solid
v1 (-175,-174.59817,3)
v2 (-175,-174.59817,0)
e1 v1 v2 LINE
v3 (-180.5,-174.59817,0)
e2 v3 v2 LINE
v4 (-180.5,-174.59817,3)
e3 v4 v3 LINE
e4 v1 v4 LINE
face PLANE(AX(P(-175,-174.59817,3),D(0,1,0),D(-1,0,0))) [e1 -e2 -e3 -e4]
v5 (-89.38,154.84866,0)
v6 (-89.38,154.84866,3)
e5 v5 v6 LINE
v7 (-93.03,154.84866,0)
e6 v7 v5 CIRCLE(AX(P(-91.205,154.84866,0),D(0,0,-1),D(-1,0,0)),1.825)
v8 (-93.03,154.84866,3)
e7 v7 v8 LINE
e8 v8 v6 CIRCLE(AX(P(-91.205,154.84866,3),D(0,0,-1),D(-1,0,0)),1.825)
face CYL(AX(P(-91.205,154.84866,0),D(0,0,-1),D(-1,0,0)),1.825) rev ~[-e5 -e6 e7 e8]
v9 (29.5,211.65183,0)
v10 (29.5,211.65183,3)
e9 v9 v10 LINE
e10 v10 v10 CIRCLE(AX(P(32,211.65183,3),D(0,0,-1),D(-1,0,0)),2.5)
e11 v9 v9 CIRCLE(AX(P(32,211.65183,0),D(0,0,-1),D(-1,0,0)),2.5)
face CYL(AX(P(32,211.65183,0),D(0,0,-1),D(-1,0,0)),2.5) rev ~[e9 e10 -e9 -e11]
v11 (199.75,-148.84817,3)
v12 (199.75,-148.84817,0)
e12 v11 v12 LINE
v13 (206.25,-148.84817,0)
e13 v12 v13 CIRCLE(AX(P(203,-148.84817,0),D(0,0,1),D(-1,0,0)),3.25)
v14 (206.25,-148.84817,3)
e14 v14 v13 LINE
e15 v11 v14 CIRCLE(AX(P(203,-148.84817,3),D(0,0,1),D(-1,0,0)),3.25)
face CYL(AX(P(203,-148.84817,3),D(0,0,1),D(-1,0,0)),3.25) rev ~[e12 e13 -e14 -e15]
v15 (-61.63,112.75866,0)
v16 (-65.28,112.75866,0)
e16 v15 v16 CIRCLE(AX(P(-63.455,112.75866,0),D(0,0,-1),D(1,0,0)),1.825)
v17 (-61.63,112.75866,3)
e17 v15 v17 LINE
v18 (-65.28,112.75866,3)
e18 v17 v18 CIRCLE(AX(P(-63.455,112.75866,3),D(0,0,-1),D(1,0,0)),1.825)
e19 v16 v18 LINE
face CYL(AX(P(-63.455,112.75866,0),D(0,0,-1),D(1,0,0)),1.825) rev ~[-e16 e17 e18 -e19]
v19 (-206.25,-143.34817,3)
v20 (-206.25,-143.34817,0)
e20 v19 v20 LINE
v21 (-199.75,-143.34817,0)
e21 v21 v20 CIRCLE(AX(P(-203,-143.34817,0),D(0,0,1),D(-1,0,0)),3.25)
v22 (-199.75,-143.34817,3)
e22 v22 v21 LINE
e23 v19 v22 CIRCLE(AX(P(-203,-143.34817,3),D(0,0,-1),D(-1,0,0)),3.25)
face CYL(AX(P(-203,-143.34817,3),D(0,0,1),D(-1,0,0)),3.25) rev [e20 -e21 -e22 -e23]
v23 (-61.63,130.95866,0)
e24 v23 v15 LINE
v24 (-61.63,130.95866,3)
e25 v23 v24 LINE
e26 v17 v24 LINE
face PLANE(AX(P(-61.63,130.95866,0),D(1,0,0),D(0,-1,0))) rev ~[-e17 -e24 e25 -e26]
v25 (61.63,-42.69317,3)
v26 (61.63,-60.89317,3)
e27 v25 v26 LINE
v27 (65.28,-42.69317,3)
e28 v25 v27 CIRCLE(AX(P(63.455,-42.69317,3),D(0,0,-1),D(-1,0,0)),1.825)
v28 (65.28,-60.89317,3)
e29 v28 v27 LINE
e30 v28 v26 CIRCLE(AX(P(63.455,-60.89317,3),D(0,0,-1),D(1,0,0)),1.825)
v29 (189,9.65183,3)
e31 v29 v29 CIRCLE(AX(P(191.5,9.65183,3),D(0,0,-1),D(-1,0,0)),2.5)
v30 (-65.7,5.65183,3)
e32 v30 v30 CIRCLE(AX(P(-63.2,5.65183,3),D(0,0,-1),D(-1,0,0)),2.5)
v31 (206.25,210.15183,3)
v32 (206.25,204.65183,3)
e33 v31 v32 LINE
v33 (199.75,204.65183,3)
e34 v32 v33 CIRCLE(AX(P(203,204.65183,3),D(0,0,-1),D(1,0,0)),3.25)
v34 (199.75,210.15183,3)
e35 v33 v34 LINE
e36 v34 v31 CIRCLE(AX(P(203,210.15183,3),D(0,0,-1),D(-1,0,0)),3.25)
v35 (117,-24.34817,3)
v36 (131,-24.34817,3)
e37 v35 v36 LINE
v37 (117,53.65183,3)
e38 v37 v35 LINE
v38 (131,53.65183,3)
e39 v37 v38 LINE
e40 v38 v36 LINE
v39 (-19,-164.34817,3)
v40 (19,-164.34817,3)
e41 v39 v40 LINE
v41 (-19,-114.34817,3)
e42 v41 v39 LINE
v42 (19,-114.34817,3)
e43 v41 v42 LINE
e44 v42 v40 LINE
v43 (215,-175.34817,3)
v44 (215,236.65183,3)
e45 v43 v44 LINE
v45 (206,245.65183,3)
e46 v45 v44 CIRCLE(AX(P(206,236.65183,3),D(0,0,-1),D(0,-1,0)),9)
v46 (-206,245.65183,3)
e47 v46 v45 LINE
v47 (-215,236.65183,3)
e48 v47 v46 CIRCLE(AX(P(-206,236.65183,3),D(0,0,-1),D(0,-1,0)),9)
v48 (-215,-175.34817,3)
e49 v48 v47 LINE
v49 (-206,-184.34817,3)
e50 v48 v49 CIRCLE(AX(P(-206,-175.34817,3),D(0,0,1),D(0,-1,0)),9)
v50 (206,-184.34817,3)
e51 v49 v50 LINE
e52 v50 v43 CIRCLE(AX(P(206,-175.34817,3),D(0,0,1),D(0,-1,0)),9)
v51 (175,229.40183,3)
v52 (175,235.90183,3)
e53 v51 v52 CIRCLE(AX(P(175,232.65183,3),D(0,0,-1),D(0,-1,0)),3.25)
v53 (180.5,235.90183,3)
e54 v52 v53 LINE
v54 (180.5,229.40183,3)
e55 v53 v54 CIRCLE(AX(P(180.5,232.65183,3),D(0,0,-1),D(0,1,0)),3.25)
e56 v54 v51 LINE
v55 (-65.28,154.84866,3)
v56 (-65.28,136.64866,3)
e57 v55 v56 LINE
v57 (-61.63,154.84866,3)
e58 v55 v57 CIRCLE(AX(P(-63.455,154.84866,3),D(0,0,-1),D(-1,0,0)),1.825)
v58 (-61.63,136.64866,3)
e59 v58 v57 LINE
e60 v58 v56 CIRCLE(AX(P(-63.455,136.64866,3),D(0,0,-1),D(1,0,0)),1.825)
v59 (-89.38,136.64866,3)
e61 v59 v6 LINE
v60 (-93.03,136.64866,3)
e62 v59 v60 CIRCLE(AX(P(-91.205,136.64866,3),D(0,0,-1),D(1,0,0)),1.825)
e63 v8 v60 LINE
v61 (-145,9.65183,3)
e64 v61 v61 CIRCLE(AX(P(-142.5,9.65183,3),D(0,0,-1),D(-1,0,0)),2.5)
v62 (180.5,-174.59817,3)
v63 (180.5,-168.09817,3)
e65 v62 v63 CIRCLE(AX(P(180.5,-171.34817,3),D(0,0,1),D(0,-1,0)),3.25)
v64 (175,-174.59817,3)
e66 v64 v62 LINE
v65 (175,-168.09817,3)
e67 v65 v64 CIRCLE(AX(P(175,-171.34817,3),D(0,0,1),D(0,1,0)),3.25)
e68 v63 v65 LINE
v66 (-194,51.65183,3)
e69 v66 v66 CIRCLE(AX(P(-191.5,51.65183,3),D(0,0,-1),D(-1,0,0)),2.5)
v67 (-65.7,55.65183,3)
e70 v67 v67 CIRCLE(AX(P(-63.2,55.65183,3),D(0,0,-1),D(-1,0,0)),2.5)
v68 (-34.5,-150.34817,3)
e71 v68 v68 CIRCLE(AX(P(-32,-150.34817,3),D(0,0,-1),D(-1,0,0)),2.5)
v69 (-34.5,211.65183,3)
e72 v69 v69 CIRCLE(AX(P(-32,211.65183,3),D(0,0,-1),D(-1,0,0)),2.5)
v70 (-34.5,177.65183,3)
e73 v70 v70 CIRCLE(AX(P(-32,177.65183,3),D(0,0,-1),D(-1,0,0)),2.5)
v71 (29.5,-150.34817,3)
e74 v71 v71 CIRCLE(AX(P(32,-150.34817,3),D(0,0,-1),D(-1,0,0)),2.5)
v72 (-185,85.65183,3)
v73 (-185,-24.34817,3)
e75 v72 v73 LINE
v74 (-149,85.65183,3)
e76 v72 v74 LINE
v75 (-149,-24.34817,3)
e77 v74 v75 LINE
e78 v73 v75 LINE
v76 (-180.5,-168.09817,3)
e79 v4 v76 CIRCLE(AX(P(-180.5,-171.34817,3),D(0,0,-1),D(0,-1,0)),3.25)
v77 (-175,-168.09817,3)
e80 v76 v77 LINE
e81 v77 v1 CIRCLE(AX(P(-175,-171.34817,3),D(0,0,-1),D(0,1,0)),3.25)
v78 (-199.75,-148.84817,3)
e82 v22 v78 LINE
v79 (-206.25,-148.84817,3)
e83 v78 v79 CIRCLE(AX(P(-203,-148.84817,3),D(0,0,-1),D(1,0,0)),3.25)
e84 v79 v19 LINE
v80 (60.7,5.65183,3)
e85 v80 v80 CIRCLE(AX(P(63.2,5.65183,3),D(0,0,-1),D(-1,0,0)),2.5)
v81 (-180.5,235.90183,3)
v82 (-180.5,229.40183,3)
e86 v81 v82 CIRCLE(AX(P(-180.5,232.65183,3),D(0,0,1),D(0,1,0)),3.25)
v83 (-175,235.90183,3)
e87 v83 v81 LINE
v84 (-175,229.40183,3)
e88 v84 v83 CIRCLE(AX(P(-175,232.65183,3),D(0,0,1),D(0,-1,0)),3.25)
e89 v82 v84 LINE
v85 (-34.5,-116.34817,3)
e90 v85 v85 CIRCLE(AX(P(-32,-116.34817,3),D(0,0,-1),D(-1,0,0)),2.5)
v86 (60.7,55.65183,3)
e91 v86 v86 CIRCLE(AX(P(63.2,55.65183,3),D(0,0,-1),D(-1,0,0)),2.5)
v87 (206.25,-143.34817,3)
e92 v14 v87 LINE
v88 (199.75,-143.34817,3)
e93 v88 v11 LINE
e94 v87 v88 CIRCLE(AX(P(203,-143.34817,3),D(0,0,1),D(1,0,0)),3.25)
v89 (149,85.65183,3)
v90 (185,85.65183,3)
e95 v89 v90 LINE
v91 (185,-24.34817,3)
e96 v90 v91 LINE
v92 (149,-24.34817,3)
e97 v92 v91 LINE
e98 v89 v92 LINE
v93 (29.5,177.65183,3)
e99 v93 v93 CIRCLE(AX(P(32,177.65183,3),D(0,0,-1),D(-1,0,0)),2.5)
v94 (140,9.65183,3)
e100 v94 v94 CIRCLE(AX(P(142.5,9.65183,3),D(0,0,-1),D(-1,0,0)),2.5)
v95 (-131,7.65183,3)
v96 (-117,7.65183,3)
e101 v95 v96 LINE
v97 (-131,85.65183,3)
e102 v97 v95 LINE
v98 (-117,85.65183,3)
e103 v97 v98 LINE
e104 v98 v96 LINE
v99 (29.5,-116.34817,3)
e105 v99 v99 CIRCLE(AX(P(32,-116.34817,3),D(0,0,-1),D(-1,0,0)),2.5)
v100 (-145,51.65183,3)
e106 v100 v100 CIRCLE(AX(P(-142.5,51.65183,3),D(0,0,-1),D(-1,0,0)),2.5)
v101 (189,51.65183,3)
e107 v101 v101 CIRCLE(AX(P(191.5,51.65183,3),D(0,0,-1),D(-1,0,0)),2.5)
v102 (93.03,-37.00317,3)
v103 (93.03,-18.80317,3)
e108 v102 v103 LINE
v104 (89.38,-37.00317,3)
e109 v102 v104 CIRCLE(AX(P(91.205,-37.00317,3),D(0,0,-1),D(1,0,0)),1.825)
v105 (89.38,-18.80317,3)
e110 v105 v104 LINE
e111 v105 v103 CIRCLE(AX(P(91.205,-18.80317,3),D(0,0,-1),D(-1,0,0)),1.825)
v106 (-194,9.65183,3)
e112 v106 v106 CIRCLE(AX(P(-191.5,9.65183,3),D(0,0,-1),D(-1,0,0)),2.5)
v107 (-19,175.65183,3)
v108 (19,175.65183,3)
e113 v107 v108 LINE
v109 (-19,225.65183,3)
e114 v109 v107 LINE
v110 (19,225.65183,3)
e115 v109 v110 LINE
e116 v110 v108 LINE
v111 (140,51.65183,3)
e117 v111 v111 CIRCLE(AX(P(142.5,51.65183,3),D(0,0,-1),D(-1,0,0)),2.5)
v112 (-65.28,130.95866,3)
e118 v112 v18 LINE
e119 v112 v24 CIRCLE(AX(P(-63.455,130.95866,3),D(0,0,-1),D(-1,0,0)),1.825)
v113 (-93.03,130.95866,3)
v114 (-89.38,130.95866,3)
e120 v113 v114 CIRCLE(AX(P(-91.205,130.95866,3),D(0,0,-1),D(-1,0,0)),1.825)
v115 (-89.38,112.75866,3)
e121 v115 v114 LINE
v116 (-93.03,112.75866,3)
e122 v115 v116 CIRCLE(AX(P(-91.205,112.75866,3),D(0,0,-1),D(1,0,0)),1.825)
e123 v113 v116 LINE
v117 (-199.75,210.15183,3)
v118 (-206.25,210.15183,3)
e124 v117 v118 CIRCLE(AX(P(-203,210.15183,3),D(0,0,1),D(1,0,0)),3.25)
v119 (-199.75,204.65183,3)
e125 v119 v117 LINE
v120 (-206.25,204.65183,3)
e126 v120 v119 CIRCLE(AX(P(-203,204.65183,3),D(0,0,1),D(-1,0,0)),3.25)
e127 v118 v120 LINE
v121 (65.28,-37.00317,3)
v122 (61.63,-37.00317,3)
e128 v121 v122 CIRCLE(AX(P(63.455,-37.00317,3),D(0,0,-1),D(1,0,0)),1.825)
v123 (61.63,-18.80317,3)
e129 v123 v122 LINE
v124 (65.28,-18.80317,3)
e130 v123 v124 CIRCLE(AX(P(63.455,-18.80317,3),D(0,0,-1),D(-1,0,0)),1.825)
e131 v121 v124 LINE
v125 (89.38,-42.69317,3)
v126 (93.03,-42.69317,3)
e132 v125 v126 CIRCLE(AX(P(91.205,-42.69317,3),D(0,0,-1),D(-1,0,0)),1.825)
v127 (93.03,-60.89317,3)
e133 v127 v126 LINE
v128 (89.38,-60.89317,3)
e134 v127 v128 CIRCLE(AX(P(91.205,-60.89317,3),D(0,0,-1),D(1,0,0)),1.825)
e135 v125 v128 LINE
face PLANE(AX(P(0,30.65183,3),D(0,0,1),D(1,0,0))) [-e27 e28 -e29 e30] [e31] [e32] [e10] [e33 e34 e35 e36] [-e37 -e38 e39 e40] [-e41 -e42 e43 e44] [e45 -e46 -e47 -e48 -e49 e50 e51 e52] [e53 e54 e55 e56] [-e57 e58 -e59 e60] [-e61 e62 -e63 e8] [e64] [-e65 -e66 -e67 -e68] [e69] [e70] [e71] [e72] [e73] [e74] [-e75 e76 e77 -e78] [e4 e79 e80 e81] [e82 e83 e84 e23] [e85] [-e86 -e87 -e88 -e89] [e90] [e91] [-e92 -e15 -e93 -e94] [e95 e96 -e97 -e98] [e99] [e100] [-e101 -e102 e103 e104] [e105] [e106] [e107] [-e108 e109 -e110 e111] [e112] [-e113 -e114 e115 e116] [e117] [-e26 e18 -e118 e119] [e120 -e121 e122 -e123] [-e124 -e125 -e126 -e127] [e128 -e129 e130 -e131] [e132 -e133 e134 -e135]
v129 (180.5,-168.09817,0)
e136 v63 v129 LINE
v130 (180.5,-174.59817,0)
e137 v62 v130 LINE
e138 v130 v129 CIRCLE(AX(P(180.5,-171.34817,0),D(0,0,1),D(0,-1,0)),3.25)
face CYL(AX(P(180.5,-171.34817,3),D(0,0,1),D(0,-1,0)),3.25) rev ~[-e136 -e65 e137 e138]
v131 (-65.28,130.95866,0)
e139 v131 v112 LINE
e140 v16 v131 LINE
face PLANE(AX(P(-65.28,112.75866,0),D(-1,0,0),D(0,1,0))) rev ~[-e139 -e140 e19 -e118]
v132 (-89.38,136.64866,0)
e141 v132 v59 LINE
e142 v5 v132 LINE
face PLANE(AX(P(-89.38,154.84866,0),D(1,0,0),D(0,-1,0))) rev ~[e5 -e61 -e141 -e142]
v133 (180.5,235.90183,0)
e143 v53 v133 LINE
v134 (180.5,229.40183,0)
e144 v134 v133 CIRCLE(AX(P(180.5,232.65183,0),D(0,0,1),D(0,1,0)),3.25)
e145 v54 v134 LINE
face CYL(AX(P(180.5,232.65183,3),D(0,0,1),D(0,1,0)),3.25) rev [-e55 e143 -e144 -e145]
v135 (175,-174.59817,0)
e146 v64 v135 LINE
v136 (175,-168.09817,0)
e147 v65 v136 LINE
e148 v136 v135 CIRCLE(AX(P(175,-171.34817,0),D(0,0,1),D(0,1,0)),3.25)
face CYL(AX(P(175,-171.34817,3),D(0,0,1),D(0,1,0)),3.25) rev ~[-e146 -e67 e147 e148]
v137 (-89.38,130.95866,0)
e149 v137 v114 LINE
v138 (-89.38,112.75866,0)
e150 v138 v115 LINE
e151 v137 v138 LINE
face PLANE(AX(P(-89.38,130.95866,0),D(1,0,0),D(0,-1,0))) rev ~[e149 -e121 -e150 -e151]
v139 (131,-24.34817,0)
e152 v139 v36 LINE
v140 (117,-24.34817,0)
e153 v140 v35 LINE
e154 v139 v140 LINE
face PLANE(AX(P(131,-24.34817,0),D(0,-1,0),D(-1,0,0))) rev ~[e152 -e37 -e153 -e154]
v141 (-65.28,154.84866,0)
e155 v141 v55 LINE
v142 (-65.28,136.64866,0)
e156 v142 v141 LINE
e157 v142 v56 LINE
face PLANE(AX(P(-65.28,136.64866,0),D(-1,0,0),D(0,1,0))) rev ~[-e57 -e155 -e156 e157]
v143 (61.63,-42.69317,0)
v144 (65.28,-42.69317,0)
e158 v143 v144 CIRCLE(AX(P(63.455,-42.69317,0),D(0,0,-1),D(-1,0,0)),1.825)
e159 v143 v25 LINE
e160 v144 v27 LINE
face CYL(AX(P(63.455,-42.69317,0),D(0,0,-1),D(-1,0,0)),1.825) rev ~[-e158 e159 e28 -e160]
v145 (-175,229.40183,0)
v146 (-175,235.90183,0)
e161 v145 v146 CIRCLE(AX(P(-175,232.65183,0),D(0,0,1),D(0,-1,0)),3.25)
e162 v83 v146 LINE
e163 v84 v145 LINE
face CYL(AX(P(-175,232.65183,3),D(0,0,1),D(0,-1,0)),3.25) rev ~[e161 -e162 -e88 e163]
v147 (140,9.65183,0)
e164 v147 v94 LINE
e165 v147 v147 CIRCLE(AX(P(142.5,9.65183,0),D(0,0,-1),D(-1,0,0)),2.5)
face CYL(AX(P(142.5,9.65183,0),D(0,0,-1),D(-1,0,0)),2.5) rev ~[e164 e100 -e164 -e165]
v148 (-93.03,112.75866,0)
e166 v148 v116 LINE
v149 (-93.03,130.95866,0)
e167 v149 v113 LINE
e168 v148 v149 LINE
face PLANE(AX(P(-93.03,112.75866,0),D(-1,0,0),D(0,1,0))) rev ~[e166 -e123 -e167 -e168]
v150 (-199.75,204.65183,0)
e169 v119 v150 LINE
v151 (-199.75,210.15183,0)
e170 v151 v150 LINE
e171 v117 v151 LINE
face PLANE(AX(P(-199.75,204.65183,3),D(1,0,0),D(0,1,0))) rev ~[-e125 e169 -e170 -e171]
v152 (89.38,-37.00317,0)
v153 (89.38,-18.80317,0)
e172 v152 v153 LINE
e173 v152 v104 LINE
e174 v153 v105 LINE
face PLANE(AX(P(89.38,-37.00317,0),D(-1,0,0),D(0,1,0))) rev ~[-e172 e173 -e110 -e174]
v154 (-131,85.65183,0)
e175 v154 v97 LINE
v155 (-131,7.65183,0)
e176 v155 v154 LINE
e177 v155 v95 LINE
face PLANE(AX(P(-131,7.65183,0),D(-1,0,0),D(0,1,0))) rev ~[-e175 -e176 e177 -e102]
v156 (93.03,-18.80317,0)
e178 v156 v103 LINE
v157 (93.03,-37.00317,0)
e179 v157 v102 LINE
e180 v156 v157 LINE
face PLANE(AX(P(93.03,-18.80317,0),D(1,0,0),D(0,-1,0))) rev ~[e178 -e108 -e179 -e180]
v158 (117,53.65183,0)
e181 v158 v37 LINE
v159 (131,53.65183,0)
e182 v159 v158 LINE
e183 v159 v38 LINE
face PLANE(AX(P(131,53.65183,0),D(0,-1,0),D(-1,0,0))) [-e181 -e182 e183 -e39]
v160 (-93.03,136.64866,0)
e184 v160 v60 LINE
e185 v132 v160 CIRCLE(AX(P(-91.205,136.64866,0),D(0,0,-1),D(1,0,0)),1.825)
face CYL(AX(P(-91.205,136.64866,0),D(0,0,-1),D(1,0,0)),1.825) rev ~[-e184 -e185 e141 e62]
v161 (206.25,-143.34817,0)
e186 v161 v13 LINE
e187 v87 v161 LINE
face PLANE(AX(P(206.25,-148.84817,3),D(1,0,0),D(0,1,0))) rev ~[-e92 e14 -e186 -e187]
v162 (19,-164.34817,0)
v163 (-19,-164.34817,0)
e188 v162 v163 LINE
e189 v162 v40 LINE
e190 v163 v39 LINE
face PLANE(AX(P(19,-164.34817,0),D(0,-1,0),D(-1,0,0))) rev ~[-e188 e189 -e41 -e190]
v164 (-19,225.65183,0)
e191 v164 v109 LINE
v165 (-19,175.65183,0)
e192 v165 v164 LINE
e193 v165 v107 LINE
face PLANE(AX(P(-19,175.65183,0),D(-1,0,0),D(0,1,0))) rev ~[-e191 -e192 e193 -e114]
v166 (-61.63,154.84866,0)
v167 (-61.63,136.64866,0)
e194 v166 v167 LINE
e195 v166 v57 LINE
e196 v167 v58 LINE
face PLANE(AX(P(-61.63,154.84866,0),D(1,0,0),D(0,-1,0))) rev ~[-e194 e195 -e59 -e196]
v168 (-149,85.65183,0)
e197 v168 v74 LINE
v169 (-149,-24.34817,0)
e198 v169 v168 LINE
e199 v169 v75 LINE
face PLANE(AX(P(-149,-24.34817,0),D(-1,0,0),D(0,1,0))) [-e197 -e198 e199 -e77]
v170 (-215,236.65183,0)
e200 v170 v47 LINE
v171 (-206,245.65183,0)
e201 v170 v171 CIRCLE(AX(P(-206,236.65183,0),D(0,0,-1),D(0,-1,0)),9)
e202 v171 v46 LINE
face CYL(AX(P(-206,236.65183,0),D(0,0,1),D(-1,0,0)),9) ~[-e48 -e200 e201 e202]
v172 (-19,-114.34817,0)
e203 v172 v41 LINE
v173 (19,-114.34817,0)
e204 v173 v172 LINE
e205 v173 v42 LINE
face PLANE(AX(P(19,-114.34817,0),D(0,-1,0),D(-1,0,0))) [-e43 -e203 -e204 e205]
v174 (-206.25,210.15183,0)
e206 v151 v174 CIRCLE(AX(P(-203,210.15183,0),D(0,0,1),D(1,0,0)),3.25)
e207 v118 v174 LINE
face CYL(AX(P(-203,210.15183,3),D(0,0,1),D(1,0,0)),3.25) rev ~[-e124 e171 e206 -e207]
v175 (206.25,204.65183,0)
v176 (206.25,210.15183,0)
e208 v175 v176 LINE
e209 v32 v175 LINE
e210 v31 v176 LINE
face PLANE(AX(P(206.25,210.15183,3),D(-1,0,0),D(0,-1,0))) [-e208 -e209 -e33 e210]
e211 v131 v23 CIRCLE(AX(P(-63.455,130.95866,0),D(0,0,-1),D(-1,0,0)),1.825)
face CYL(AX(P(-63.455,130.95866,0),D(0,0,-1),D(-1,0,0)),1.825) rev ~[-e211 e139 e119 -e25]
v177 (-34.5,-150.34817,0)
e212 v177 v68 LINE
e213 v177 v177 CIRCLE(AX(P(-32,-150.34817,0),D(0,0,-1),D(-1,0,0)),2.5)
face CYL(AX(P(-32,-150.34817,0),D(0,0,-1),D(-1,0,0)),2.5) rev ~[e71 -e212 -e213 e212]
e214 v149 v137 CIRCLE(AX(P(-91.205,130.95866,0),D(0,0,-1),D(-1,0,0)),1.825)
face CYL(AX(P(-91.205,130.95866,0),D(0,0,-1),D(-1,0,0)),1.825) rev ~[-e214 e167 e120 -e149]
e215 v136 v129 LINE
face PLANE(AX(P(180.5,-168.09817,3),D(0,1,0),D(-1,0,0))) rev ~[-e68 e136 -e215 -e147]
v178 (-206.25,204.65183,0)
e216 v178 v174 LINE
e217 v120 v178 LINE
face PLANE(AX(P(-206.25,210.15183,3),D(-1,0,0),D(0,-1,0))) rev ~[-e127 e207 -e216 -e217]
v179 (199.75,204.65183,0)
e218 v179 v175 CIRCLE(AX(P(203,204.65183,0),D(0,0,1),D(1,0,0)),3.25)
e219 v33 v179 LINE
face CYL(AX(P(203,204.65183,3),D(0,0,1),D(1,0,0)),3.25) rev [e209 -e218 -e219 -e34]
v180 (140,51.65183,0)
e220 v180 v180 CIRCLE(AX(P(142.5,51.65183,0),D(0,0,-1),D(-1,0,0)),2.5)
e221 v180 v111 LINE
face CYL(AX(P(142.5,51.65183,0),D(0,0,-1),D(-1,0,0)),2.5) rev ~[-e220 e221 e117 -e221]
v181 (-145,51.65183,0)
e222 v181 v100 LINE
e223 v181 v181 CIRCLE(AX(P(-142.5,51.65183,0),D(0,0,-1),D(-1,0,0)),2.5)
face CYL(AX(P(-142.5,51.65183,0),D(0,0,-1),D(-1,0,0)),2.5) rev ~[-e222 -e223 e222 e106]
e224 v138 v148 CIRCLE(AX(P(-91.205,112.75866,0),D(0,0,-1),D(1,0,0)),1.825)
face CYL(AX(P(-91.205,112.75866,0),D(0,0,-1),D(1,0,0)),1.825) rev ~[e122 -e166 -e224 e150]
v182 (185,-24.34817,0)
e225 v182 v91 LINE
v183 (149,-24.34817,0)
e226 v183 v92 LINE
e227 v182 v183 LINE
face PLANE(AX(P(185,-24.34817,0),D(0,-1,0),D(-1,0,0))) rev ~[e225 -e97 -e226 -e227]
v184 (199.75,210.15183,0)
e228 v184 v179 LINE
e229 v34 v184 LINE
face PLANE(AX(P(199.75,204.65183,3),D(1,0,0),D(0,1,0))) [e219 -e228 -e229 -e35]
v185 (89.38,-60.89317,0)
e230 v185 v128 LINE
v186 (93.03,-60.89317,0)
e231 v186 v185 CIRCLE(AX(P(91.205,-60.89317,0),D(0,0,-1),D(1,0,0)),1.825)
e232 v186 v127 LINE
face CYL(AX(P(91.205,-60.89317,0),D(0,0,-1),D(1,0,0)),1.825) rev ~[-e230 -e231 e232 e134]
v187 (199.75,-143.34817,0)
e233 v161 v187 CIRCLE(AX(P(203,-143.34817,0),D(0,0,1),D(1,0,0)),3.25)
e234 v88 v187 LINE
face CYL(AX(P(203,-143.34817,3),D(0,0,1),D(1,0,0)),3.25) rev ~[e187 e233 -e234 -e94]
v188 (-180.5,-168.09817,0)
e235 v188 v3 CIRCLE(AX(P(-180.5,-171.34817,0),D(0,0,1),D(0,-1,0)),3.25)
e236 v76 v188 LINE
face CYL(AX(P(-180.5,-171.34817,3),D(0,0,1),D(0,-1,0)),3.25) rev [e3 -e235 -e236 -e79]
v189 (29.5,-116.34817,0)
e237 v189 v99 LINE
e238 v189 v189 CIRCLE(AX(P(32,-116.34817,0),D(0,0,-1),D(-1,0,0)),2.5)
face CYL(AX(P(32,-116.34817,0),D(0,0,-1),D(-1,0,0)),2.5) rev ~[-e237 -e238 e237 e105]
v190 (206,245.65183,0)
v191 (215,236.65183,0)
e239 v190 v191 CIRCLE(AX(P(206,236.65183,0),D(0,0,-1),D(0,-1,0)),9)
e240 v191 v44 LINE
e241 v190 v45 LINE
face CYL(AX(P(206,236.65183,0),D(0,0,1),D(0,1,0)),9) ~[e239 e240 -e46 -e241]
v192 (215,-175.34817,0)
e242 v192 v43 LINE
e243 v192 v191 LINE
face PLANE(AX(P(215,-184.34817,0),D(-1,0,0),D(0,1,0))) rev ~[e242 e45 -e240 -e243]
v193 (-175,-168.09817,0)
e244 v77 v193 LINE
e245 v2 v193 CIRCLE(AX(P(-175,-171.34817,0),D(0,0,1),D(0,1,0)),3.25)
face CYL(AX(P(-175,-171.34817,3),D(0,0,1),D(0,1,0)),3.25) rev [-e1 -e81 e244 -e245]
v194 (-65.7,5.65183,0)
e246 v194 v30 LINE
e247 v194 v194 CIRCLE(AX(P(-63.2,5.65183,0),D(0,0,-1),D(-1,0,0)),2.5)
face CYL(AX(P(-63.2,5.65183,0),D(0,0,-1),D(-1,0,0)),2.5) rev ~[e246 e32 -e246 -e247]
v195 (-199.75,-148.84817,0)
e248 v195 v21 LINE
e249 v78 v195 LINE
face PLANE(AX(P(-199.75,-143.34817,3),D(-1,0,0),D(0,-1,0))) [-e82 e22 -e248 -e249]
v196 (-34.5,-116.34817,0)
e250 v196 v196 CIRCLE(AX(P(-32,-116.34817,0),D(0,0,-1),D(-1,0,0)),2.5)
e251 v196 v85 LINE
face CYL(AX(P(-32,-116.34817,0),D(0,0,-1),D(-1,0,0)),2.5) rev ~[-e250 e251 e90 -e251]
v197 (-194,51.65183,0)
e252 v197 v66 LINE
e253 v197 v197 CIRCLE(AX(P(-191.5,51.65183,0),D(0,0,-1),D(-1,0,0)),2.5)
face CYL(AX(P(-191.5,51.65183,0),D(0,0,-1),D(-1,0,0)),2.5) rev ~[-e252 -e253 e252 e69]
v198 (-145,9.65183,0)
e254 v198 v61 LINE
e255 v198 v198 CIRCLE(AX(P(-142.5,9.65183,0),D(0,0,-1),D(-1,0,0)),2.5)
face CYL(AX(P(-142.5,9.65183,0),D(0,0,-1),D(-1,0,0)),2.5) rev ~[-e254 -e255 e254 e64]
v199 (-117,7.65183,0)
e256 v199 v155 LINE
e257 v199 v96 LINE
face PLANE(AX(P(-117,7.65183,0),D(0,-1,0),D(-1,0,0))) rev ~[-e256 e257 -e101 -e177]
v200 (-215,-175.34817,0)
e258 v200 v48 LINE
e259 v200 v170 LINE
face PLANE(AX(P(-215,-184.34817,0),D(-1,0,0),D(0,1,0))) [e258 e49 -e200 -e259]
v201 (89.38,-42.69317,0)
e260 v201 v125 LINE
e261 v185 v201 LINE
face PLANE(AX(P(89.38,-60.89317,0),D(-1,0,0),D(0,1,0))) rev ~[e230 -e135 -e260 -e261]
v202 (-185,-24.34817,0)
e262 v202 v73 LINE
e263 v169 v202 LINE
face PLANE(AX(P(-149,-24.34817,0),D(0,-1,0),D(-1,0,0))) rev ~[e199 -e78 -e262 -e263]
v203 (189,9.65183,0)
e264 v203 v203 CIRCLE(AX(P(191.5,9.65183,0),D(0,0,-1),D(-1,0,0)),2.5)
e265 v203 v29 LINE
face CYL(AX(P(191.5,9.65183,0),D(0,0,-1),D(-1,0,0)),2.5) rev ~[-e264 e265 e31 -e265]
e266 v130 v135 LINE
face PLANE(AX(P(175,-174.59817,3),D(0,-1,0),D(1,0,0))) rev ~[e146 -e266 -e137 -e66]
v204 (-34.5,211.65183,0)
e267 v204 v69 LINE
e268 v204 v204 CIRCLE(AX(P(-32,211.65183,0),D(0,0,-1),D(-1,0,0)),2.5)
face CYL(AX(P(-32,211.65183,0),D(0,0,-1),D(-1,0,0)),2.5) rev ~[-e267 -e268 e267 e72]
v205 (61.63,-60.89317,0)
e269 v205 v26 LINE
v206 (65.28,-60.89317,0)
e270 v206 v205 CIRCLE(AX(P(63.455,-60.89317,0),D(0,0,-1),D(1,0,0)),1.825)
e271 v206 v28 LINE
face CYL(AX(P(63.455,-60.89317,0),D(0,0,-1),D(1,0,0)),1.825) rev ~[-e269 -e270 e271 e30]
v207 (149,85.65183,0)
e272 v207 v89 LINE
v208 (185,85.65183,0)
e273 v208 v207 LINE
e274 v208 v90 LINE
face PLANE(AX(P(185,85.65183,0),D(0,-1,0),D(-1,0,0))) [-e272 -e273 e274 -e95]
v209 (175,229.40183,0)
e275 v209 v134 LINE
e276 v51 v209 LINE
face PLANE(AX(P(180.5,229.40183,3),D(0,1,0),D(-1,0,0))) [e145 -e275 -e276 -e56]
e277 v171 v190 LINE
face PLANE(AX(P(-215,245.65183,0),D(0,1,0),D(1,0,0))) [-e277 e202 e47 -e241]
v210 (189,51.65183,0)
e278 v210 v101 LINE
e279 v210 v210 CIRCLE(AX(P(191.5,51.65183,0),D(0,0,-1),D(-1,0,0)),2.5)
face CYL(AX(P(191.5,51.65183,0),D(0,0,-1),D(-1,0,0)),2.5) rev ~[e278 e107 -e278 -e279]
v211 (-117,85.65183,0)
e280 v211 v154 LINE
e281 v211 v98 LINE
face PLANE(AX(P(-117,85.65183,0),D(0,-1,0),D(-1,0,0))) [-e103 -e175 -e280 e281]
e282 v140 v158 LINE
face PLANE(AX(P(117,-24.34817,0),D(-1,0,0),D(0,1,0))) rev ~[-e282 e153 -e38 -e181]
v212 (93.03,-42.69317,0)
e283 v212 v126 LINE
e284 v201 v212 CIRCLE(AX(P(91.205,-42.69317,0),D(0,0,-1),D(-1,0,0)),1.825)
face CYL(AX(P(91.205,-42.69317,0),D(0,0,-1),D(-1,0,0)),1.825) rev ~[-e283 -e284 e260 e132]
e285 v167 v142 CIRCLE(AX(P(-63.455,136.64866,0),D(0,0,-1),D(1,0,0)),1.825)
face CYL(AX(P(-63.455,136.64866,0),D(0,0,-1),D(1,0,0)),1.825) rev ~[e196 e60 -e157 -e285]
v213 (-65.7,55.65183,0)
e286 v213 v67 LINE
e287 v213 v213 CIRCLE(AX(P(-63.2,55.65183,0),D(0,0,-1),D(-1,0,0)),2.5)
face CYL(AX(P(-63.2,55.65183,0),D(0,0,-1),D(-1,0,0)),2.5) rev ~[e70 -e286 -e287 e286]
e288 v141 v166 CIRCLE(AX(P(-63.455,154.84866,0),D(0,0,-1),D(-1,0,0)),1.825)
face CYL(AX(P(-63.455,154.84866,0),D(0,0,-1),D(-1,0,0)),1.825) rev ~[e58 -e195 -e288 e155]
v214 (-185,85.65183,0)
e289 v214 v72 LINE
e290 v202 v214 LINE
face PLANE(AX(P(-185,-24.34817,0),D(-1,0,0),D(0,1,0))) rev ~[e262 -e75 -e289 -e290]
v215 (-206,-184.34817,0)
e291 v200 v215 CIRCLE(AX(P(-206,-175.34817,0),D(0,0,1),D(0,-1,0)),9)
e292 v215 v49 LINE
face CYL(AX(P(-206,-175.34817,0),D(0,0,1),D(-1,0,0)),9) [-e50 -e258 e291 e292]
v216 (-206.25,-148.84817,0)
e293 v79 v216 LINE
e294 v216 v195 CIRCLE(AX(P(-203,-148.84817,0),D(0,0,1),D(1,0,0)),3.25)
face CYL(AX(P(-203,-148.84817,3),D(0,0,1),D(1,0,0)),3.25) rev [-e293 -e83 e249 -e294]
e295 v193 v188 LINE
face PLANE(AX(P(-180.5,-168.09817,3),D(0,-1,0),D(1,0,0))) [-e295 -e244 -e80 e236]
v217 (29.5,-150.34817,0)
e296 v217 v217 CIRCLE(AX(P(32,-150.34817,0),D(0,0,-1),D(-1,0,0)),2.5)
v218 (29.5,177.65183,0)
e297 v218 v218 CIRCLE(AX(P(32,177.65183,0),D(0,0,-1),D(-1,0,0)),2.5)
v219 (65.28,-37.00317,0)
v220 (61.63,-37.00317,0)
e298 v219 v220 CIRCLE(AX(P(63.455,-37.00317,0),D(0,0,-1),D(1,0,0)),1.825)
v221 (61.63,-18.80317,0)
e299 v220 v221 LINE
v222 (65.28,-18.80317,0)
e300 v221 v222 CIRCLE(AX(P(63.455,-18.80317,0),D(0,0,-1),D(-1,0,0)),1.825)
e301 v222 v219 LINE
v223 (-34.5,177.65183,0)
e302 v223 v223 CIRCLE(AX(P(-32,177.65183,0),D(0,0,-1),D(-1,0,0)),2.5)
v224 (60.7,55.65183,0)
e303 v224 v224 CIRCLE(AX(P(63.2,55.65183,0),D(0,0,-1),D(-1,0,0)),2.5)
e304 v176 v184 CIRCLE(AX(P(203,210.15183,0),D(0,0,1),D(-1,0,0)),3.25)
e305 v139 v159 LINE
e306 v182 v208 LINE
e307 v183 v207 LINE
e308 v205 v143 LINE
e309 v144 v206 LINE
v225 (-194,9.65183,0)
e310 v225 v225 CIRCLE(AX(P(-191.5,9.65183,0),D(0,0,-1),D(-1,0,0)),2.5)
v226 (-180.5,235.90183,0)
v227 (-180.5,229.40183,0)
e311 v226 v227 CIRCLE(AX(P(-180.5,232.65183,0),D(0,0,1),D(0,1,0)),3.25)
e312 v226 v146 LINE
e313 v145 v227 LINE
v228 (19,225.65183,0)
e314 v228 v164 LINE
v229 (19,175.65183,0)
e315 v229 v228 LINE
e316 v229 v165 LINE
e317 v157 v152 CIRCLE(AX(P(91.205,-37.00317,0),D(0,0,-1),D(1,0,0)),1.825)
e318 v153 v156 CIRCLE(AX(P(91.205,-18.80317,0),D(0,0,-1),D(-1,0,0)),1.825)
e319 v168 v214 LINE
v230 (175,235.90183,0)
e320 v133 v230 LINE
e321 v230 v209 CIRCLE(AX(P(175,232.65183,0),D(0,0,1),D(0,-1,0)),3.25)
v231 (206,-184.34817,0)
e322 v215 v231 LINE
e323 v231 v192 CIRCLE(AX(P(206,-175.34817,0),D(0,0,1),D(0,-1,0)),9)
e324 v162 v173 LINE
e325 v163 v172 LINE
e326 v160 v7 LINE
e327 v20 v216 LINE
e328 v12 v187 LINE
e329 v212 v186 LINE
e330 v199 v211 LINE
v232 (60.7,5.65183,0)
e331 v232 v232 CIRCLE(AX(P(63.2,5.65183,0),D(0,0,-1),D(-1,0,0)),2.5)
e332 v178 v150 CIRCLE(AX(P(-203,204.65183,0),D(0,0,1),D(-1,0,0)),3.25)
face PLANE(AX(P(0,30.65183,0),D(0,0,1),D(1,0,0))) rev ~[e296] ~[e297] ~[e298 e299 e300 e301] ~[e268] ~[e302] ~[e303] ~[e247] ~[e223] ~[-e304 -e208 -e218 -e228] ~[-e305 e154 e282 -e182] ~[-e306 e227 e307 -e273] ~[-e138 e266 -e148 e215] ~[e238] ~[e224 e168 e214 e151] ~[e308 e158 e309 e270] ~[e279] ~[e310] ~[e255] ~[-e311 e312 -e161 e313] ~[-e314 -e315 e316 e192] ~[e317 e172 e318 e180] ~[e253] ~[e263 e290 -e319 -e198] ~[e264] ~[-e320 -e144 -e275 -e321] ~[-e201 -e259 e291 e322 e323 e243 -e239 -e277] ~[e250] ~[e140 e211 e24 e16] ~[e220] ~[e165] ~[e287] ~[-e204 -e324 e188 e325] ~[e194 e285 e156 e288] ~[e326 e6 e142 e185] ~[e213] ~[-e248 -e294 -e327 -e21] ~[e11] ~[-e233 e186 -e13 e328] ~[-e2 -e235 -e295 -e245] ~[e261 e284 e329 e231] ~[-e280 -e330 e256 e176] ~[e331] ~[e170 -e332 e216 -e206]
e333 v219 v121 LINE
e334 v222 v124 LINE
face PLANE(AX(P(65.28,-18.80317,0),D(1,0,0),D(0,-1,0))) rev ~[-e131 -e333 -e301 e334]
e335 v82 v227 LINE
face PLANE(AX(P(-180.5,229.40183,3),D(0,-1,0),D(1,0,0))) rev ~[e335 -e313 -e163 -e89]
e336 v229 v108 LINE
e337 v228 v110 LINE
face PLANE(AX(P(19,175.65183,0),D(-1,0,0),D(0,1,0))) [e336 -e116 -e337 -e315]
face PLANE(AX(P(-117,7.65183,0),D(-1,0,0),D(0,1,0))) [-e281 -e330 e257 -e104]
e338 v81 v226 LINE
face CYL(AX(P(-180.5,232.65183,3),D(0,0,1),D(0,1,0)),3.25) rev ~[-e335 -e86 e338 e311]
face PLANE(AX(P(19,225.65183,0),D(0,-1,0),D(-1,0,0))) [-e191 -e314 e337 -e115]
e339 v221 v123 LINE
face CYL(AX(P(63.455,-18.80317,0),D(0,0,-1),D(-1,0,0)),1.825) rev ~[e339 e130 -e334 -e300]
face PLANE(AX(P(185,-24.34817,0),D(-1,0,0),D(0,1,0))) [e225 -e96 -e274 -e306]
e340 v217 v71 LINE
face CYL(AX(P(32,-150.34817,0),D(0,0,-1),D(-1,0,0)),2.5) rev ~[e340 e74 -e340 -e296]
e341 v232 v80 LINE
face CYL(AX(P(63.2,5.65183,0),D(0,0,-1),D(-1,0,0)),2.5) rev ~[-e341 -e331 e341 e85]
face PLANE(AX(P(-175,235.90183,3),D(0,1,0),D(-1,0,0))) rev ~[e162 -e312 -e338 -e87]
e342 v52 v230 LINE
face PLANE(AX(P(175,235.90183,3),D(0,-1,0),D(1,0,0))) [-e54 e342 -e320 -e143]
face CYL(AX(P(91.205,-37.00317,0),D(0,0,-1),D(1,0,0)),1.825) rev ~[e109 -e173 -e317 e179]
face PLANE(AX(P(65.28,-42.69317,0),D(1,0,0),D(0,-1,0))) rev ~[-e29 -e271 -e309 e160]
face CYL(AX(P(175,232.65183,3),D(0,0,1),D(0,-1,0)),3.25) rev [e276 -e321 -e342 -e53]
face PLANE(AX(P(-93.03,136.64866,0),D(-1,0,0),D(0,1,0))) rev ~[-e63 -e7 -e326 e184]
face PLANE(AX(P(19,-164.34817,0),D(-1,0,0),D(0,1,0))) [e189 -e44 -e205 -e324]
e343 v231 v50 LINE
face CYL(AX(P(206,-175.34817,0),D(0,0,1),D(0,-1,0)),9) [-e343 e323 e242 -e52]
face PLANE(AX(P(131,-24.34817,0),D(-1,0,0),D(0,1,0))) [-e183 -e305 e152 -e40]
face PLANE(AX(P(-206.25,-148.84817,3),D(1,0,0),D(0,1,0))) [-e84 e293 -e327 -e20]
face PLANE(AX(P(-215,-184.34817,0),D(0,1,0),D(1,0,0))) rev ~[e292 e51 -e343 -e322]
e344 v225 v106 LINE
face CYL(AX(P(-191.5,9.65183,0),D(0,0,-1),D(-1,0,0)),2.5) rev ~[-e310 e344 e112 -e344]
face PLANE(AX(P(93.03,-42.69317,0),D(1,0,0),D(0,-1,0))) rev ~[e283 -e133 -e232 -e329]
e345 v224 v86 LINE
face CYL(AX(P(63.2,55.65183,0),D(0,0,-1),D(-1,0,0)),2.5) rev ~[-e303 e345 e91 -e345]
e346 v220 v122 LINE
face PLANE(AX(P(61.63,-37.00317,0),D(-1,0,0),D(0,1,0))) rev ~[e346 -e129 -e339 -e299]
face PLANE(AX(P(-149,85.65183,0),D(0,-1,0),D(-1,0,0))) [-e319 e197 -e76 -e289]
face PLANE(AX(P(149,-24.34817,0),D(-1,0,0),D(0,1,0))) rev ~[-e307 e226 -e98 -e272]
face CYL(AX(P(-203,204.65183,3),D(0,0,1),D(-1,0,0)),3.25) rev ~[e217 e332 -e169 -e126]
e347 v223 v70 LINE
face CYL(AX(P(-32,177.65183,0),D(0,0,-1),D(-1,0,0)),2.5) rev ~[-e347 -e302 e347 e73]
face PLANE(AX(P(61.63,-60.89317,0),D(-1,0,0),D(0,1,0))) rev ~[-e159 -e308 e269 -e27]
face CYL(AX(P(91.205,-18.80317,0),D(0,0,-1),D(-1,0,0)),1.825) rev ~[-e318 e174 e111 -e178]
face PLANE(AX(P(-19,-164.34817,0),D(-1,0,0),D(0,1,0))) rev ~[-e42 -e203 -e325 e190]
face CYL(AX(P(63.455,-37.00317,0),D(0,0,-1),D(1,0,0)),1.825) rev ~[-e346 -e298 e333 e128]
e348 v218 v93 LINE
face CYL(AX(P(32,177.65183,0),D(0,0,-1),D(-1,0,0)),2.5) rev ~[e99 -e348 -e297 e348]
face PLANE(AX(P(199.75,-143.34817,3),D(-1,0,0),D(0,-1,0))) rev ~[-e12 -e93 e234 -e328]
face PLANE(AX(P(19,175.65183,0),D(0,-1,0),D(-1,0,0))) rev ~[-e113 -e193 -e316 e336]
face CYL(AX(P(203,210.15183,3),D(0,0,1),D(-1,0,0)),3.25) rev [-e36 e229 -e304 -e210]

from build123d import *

# Parameters (mm, degrees)
SKETCH1_W           = 430
SKETCH1_H           = 430
BOSS_EXTRUDE1_DEPTH = 3
CUT_EXTRUDE5_REACH  = 5
SKETCH7_W           = 36
SKETCH7_H           = 110
CUT_EXTRUDE6_DEPTH  = 4
SKETCH9_W           = 38
SKETCH9_H           = 50
CUT_EXTRUDE7_DEPTH  = 4
SKETCH10_R          = 2.5
CUT_EXTRUDE8_DEPTH  = 4
SKETCH14_W          = 14
SKETCH14_H          = 78
CUT_EXTRUDE11_DEPTH = 4
CUT_EXTRUDE12_DEPTH = 4
FILLET1_R           = 9
SKETCH17_R          = 2.5
CUT_EXTRUDE13_DEPTH = 4
SKETCH18_R          = 2.5
CUT_EXTRUDE14_DEPTH = 4


with BuildPart() as part:
    # Sketch1 → Boss-Extrude1 (new body)
    with BuildSketch(Plane.XY):
        with Locations((0, 30.651830075)):
            Rectangle(SKETCH1_W, SKETCH1_H)
    extrude(amount=BOSS_EXTRUDE1_DEPTH)

    # Sketch6 → Cut-Extrude5 (cut, up to next)
    with BuildSketch(Plane.XY.offset(3), mode=Mode.PRIVATE) as cut_extrude5_sk1:
        with BuildLine():
            Line((-199.75, 204.651830161), (-199.75, 210.151830161))
            ThreePointArc((-199.75, 210.151830161), (-203, 213.401830161), (-206.25, 210.151830161))
            Line((-206.25, 210.151830161), (-206.25, 204.651830161))
            ThreePointArc((-206.25, 204.651830161), (-203, 201.401830161), (-199.75, 204.651830161))
        make_face()
    cut_extrude5_tool1 = extrude(cut_extrude5_sk1.sketch, amount=-CUT_EXTRUDE5_REACH, mode=Mode.PRIVATE) & part.part
    add(cut_extrude5_tool1.solids().sort_by_distance((-203, 207.40183, 3))[0], mode=Mode.SUBTRACT)
    # Sketch6 → Cut-Extrude5 (cut, up to next)
    with BuildSketch(Plane.XY.offset(3), mode=Mode.PRIVATE) as cut_extrude5_sk2:
        with BuildLine():
            Line((-180.5, 229.401830161), (-175, 229.401830161))
            ThreePointArc((-175, 229.401830161), (-171.75, 232.651830161), (-175, 235.901830161))
            Line((-175, 235.901830161), (-180.5, 235.901830161))
            ThreePointArc((-180.5, 235.901830161), (-183.75, 232.651830161), (-180.5, 229.401830161))
        make_face()
    cut_extrude5_tool2 = extrude(cut_extrude5_sk2.sketch, amount=-CUT_EXTRUDE5_REACH, mode=Mode.PRIVATE) & part.part
    add(cut_extrude5_tool2.solids().sort_by_distance((-177.75, 232.65183, 3))[0], mode=Mode.SUBTRACT)
    # Sketch6 → Cut-Extrude5 (cut, up to next)
    with BuildSketch(Plane.XY.offset(3), mode=Mode.PRIVATE) as cut_extrude5_sk3:
        with BuildLine():
            Line((-175, -174.598169839), (-180.5, -174.598169839))
            ThreePointArc((-180.5, -174.598169839), (-183.75, -171.348169839), (-180.5, -168.098169839))
            Line((-180.5, -168.098169839), (-175, -168.098169839))
            ThreePointArc((-175, -168.098169839), (-171.75, -171.348169839), (-175, -174.598169839))
        make_face()
    cut_extrude5_tool3 = extrude(cut_extrude5_sk3.sketch, amount=-CUT_EXTRUDE5_REACH, mode=Mode.PRIVATE) & part.part
    add(cut_extrude5_tool3.solids().sort_by_distance((-177.75, -171.34817, 3))[0], mode=Mode.SUBTRACT)
    # Sketch6 → Cut-Extrude5 (cut, up to next)
    with BuildSketch(Plane.XY.offset(3), mode=Mode.PRIVATE) as cut_extrude5_sk4:
        with BuildLine():
            Line((-206.25, -148.848169839), (-206.25, -143.348169839))
            ThreePointArc((-206.25, -143.348169839), (-203, -140.098169839), (-199.75, -143.348169839))
            Line((-199.75, -143.348169839), (-199.75, -148.848169839))
            ThreePointArc((-199.75, -148.848169839), (-203, -152.098169839), (-206.25, -148.848169839))
        make_face()
    cut_extrude5_tool4 = extrude(cut_extrude5_sk4.sketch, amount=-CUT_EXTRUDE5_REACH, mode=Mode.PRIVATE) & part.part
    add(cut_extrude5_tool4.solids().sort_by_distance((-203, -146.09817, 3))[0], mode=Mode.SUBTRACT)
    # Sketch6 → Cut-Extrude5 (cut, up to next)
    with BuildSketch(Plane.XY.offset(3), mode=Mode.PRIVATE) as cut_extrude5_sk5:
        with BuildLine():
            Line((199.75, -143.348169839), (199.75, -148.848169839))
            ThreePointArc((199.75, -148.848169839), (203, -152.098169839), (206.25, -148.848169839))
            Line((206.25, -148.848169839), (206.25, -143.348169839))
            ThreePointArc((206.25, -143.348169839), (203, -140.098169839), (199.75, -143.348169839))
        make_face()
    cut_extrude5_tool5 = extrude(cut_extrude5_sk5.sketch, amount=-CUT_EXTRUDE5_REACH, mode=Mode.PRIVATE) & part.part
    add(cut_extrude5_tool5.solids().sort_by_distance((203, -146.09817, 3))[0], mode=Mode.SUBTRACT)
    # Sketch6 → Cut-Extrude5 (cut, up to next)
    with BuildSketch(Plane.XY.offset(3), mode=Mode.PRIVATE) as cut_extrude5_sk6:
        with BuildLine():
            Line((180.5, -168.098169839), (175, -168.098169839))
            ThreePointArc((175, -168.098169839), (171.75, -171.348169839), (175, -174.598169839))
            Line((175, -174.598169839), (180.5, -174.598169839))
            ThreePointArc((180.5, -174.598169839), (183.75, -171.348169839), (180.5, -168.098169839))
        make_face()
    cut_extrude5_tool6 = extrude(cut_extrude5_sk6.sketch, amount=-CUT_EXTRUDE5_REACH, mode=Mode.PRIVATE) & part.part
    add(cut_extrude5_tool6.solids().sort_by_distance((177.75, -171.34817, 3))[0], mode=Mode.SUBTRACT)
    # Sketch6 → Cut-Extrude5 (cut, up to next)
    with BuildSketch(Plane.XY.offset(3), mode=Mode.PRIVATE) as cut_extrude5_sk7:
        with BuildLine():
            Line((175, 235.901830161), (180.5, 235.901830161))
            ThreePointArc((180.5, 235.901830161), (183.75, 232.651830161), (180.5, 229.401830161))
            Line((180.5, 229.401830161), (175, 229.401830161))
            ThreePointArc((175, 229.401830161), (171.75, 232.651830161), (175, 235.901830161))
        make_face()
    cut_extrude5_tool7 = extrude(cut_extrude5_sk7.sketch, amount=-CUT_EXTRUDE5_REACH, mode=Mode.PRIVATE) & part.part
    add(cut_extrude5_tool7.solids().sort_by_distance((177.75, 232.65183, 3))[0], mode=Mode.SUBTRACT)
    # Sketch6 → Cut-Extrude5 (cut, up to next)
    with BuildSketch(Plane.XY.offset(3), mode=Mode.PRIVATE) as cut_extrude5_sk8:
        with BuildLine():
            Line((206.25, 210.151830161), (206.25, 204.651830161))
            ThreePointArc((206.25, 204.651830161), (203, 201.401830161), (199.75, 204.651830161))
            Line((199.75, 204.651830161), (199.75, 210.151830161))
            ThreePointArc((199.75, 210.151830161), (203, 213.401830161), (206.25, 210.151830161))
        make_face()
    cut_extrude5_tool8 = extrude(cut_extrude5_sk8.sketch, amount=-CUT_EXTRUDE5_REACH, mode=Mode.PRIVATE) & part.part
    add(cut_extrude5_tool8.solids().sort_by_distance((203, 207.40183, 3))[0], mode=Mode.SUBTRACT)

    # Sketch7 → Cut-Extrude6 (cut, through all)
    with BuildSketch(Plane(origin=(0, 0, 0), x_dir=(-1, 0, 0), z_dir=(0, 0, -1))):
        with Locations((167, 30.651830075)):
            Rectangle(SKETCH7_W, SKETCH7_H)
        with Locations((-167, 30.651830075)):
            Rectangle(SKETCH7_W, SKETCH7_H)
    extrude(amount=-CUT_EXTRUDE6_DEPTH, mode=Mode.SUBTRACT)

    # Sketch9 → Cut-Extrude7 (cut, through all)
    with BuildSketch(Plane(origin=(0, 0, 0), x_dir=(-1, 0, 0), z_dir=(0, 0, -1))):
        with Locations((0, -139.348169925)):
            Rectangle(SKETCH9_W, SKETCH9_H)
        with Locations((0, 200.651830075)):
            Rectangle(SKETCH9_W, SKETCH9_H)
    extrude(amount=-CUT_EXTRUDE7_DEPTH, mode=Mode.SUBTRACT)

    # Sketch10 → Cut-Extrude8 (cut, through all)
    with BuildSketch(Plane(origin=(0, 0, 0), x_dir=(-1, 0, 0), z_dir=(0, 0, -1))):
        with Locations((32, -150.348169925)):
            Circle(SKETCH10_R)
        with Locations((32, -116.348169925)):
            Circle(SKETCH10_R)
        with Locations((-32, -116.348169925)):
            Circle(SKETCH10_R)
        with Locations((-32, -150.348169925)):
            Circle(SKETCH10_R)
        with Locations((-32, 211.651830075)):
            Circle(SKETCH10_R)
        with Locations((-32, 177.651830075)):
            Circle(SKETCH10_R)
        with Locations((32, 177.651830075)):
            Circle(SKETCH10_R)
        with Locations((32, 211.651830075)):
            Circle(SKETCH10_R)
    extrude(amount=-CUT_EXTRUDE8_DEPTH, mode=Mode.SUBTRACT)

    # Sketch14 → Cut-Extrude11 (cut, through all)
    with BuildSketch(Plane(origin=(0, 0, 0), x_dir=(-1, 0, 0), z_dir=(0, 0, -1))):
        with Locations((124, 46.651830075)):
            Rectangle(SKETCH14_W, SKETCH14_H)
        with Locations((-124, 14.651830075)):
            Rectangle(SKETCH14_W, SKETCH14_H)
    extrude(amount=-CUT_EXTRUDE11_DEPTH, mode=Mode.SUBTRACT)

    # Sketch15 → Cut-Extrude12 (cut, through all)
    with BuildSketch(Plane(origin=(0, 0, 0), x_dir=(-1, 0, 0), z_dir=(0, 0, -1))):
        with BuildLine():
            ThreePointArc((-65.28, -53.893169925), (-63.455, -52.068169925), (-61.63, -53.893169925))
            Line((-61.63, -53.893169925), (-61.63, -48.693169925))
            ThreePointArc((-61.63, -48.693169925), (-63.455, -50.518169925), (-65.28, -48.693169925))
            Line((-65.28, -48.693169925), (-65.28, -53.893169925))
        make_face()
        with BuildLine():
            Line((-61.63, -60.893169925), (-61.63, -53.893169925))
            ThreePointArc((-61.63, -53.893169925), (-63.455, -55.718169925), (-65.28, -53.893169925))
            Line((-65.28, -53.893169925), (-65.28, -60.893169925))
            ThreePointArc((-65.28, -60.893169925), (-63.455, -62.718169925), (-61.63, -60.893169925))
        make_face()
        with BuildLine():
            ThreePointArc((-65.28, -53.893169925), (-63.455, -55.718169925), (-61.63, -53.893169925))
            ThreePointArc((-61.63, -53.893169925), (-63.455, -52.068169925), (-65.28, -53.893169925))
        make_face()
        with BuildLine():
            ThreePointArc((-65.28, -48.693169925), (-63.455, -46.868169925), (-61.63, -48.693169925))
            Line((-61.63, -48.693169925), (-61.63, -42.693169925))
            ThreePointArc((-61.63, -42.693169925), (-63.455, -40.868169925), (-65.28, -42.693169925))
            Line((-65.28, -42.693169925), (-65.28, -48.693169925))
        make_face()
        with BuildLine():
            ThreePointArc((-65.28, -48.693169925), (-63.455, -50.518169925), (-61.63, -48.693169925))
            ThreePointArc((-61.63, -48.693169925), (-63.455, -46.868169925), (-65.28, -48.693169925))
        make_face()
        with BuildLine():
            ThreePointArc((-65.28, -30.003169925), (-63.455, -28.178169925), (-61.63, -30.003169925))
            Line((-61.63, -30.003169925), (-61.63, -24.803169925))
            ThreePointArc((-61.63, -24.803169925), (-63.455, -26.628169925), (-65.28, -24.803169925))
            Line((-65.28, -24.803169925), (-65.28, -30.003169925))
        make_face()
        with BuildLine():
            Line((-61.63, -37.003169925), (-61.63, -30.003169925))
            ThreePointArc((-61.63, -30.003169925), (-63.455, -31.828169925), (-65.28, -30.003169925))
            Line((-65.28, -30.003169925), (-65.28, -37.003169925))
            ThreePointArc((-65.28, -37.003169925), (-63.455, -38.828169925), (-61.63, -37.003169925))
        make_face()
        with BuildLine():
            ThreePointArc((-65.28, -30.003169925), (-63.455, -31.828169925), (-61.63, -30.003169925))
            ThreePointArc((-61.63, -30.003169925), (-63.455, -28.178169925), (-65.28, -30.003169925))
        make_face()
        with BuildLine():
            ThreePointArc((-65.28, -24.803169925), (-63.455, -22.978169925), (-61.63, -24.803169925))
            Line((-61.63, -24.803169925), (-61.63, -18.803169925))
            ThreePointArc((-61.63, -18.803169925), (-63.455, -16.978169925), (-65.28, -18.803169925))
            Line((-65.28, -18.803169925), (-65.28, -24.803169925))
        make_face()
        with BuildLine():
            ThreePointArc((-65.28, -24.803169925), (-63.455, -26.628169925), (-61.63, -24.803169925))
            ThreePointArc((-61.63, -24.803169925), (-63.455, -22.978169925), (-65.28, -24.803169925))
        make_face()
        with BuildLine():
            ThreePointArc((-93.03, -53.893169925), (-91.205, -52.068169925), (-89.38, -53.893169925))
            Line((-89.38, -53.893169925), (-89.38, -48.693169925))
            ThreePointArc((-89.38, -48.693169925), (-91.205, -50.518169925), (-93.03, -48.693169925))
            Line((-93.03, -48.693169925), (-93.03, -53.893169925))
        make_face()
        with BuildLine():
            Line((-89.38, -60.893169925), (-89.38, -53.893169925))
            ThreePointArc((-89.38, -53.893169925), (-91.205, -55.718169925), (-93.03, -53.893169925))
            Line((-93.03, -53.893169925), (-93.03, -60.893169925))
            ThreePointArc((-93.03, -60.893169925), (-91.205, -62.718169925), (-89.38, -60.893169925))
        make_face()
        with BuildLine():
            ThreePointArc((-93.03, -53.893169925), (-91.205, -55.718169925), (-89.38, -53.893169925))
            ThreePointArc((-89.38, -53.893169925), (-91.205, -52.068169925), (-93.03, -53.893169925))
        make_face()
        with BuildLine():
            ThreePointArc((-93.03, -48.693169925), (-91.205, -46.868169925), (-89.38, -48.693169925))
            Line((-89.38, -48.693169925), (-89.38, -42.693169925))
            ThreePointArc((-89.38, -42.693169925), (-91.205, -40.868169925), (-93.03, -42.693169925))
            Line((-93.03, -42.693169925), (-93.03, -48.693169925))
        make_face()
        with BuildLine():
            ThreePointArc((-93.03, -48.693169925), (-91.205, -50.518169925), (-89.38, -48.693169925))
            ThreePointArc((-89.38, -48.693169925), (-91.205, -46.868169925), (-93.03, -48.693169925))
        make_face()
        with BuildLine():
            ThreePointArc((-93.03, -30.003169925), (-91.205, -28.178169925), (-89.38, -30.003169925))
            Line((-89.38, -30.003169925), (-89.38, -24.803169925))
            ThreePointArc((-89.38, -24.803169925), (-91.205, -26.628169925), (-93.03, -24.803169925))
            Line((-93.03, -24.803169925), (-93.03, -30.003169925))
        make_face()
        with BuildLine():
            Line((-89.38, -37.003169925), (-89.38, -30.003169925))
            ThreePointArc((-89.38, -30.003169925), (-91.205, -31.828169925), (-93.03, -30.003169925))
            Line((-93.03, -30.003169925), (-93.03, -37.003169925))
            ThreePointArc((-93.03, -37.003169925), (-91.205, -38.828169925), (-89.38, -37.003169925))
        make_face()
        with BuildLine():
            ThreePointArc((-93.03, -30.003169925), (-91.205, -31.828169925), (-89.38, -30.003169925))
            ThreePointArc((-89.38, -30.003169925), (-91.205, -28.178169925), (-93.03, -30.003169925))
        make_face()
        with BuildLine():
            ThreePointArc((-93.03, -24.803169925), (-91.205, -22.978169925), (-89.38, -24.803169925))
            Line((-89.38, -24.803169925), (-89.38, -18.803169925))
            ThreePointArc((-89.38, -18.803169925), (-91.205, -16.978169925), (-93.03, -18.803169925))
            Line((-93.03, -18.803169925), (-93.03, -24.803169925))
        make_face()
        with BuildLine():
            ThreePointArc((-93.03, -24.803169925), (-91.205, -26.628169925), (-89.38, -24.803169925))
            ThreePointArc((-89.38, -24.803169925), (-91.205, -22.978169925), (-93.03, -24.803169925))
        make_face()
        with BuildLine():
            ThreePointArc((89.38, 118.758660151), (91.205, 120.583660151), (93.03, 118.758660151))
            Line((93.03, 118.758660151), (93.03, 123.958660151))
            ThreePointArc((93.03, 123.958660151), (91.205, 122.133660151), (89.38, 123.958660151))
            Line((89.38, 123.958660151), (89.38, 118.758660151))
        make_face()
        with BuildLine():
            ThreePointArc((89.38, 118.758660151), (91.205, 116.933660151), (93.03, 118.758660151))
            ThreePointArc((93.03, 118.758660151), (91.205, 120.583660151), (89.38, 118.758660151))
        make_face()
        with BuildLine():
            Line((93.03, 112.758660151), (93.03, 118.758660151))
            ThreePointArc((93.03, 118.758660151), (91.205, 116.933660151), (89.38, 118.758660151))
            Line((89.38, 118.758660151), (89.38, 112.758660151))
            ThreePointArc((89.38, 112.758660151), (91.205, 110.933660151), (93.03, 112.758660151))
        make_face()
        with BuildLine():
            ThreePointArc((89.38, 123.958660151), (91.205, 125.783660151), (93.03, 123.958660151))
            Line((93.03, 123.958660151), (93.03, 130.958660151))
            ThreePointArc((93.03, 130.958660151), (91.205, 132.783660151), (89.38, 130.958660151))
            Line((89.38, 130.958660151), (89.38, 123.958660151))
        make_face()
        with BuildLine():
            ThreePointArc((89.38, 123.958660151), (91.205, 122.133660151), (93.03, 123.958660151))
            ThreePointArc((93.03, 123.958660151), (91.205, 125.783660151), (89.38, 123.958660151))
        make_face()
        with BuildLine():
            ThreePointArc((89.38, 142.648660151), (91.205, 144.473660151), (93.03, 142.648660151))
            Line((93.03, 142.648660151), (93.03, 147.848660151))
            ThreePointArc((93.03, 147.848660151), (91.205, 146.023660151), (89.38, 147.848660151))
            Line((89.38, 147.848660151), (89.38, 142.648660151))
        make_face()
        with BuildLine():
            ThreePointArc((89.38, 142.648660151), (91.205, 140.823660151), (93.03, 142.648660151))
            ThreePointArc((93.03, 142.648660151), (91.205, 144.473660151), (89.38, 142.648660151))
        make_face()
        with BuildLine():
            Line((93.03, 136.648660151), (93.03, 142.648660151))
            ThreePointArc((93.03, 142.648660151), (91.205, 140.823660151), (89.38, 142.648660151))
            Line((89.38, 142.648660151), (89.38, 136.648660151))
            ThreePointArc((89.38, 136.648660151), (91.205, 134.823660151), (93.03, 136.648660151))
        make_face()
        with BuildLine():
            ThreePointArc((89.38, 147.848660151), (91.205, 149.673660151), (93.03, 147.848660151))
            Line((93.03, 147.848660151), (93.03, 154.848660151))
            ThreePointArc((93.03, 154.848660151), (91.205, 156.673660151), (89.38, 154.848660151))
            Line((89.38, 154.848660151), (89.38, 147.848660151))
        make_face()
        with BuildLine():
            ThreePointArc((89.38, 147.848660151), (91.205, 146.023660151), (93.03, 147.848660151))
            ThreePointArc((93.03, 147.848660151), (91.205, 149.673660151), (89.38, 147.848660151))
        make_face()
        with BuildLine():
            ThreePointArc((61.63, 142.648660151), (63.455, 144.473660151), (65.28, 142.648660151))
            Line((65.28, 142.648660151), (65.28, 147.848660151))
            ThreePointArc((65.28, 147.848660151), (63.455, 146.023660151), (61.63, 147.848660151))
            Line((61.63, 147.848660151), (61.63, 142.648660151))
        make_face()
        with BuildLine():
            ThreePointArc((61.63, 142.648660151), (63.455, 140.823660151), (65.28, 142.648660151))
            ThreePointArc((65.28, 142.648660151), (63.455, 144.473660151), (61.63, 142.648660151))
        make_face()
        with BuildLine():
            Line((65.28, 136.648660151), (65.28, 142.648660151))
            ThreePointArc((65.28, 142.648660151), (63.455, 140.823660151), (61.63, 142.648660151))
            Line((61.63, 142.648660151), (61.63, 136.648660151))
            ThreePointArc((61.63, 136.648660151), (63.455, 134.823660151), (65.28, 136.648660151))
        make_face()
        with BuildLine():
            ThreePointArc((61.63, 147.848660151), (63.455, 149.673660151), (65.28, 147.848660151))
            Line((65.28, 147.848660151), (65.28, 154.848660151))
            ThreePointArc((65.28, 154.848660151), (63.455, 156.673660151), (61.63, 154.848660151))
            Line((61.63, 154.848660151), (61.63, 147.848660151))
        make_face()
        with BuildLine():
            ThreePointArc((61.63, 147.848660151), (63.455, 146.023660151), (65.28, 147.848660151))
            ThreePointArc((65.28, 147.848660151), (63.455, 149.673660151), (61.63, 147.848660151))
        make_face()
        with BuildLine():
            ThreePointArc((61.63, 118.758660151), (63.455, 120.583660151), (65.28, 118.758660151))
            Line((65.28, 118.758660151), (65.28, 123.958660151))
            ThreePointArc((65.28, 123.958660151), (63.455, 122.133660151), (61.63, 123.958660151))
            Line((61.63, 123.958660151), (61.63, 118.758660151))
        make_face()
        with BuildLine():
            ThreePointArc((61.63, 118.758660151), (63.455, 116.933660151), (65.28, 118.758660151))
            ThreePointArc((65.28, 118.758660151), (63.455, 120.583660151), (61.63, 118.758660151))
        make_face()
        with BuildLine():
            Line((65.28, 112.758660151), (65.28, 118.758660151))
            ThreePointArc((65.28, 118.758660151), (63.455, 116.933660151), (61.63, 118.758660151))
            Line((61.63, 118.758660151), (61.63, 112.758660151))
            ThreePointArc((61.63, 112.758660151), (63.455, 110.933660151), (65.28, 112.758660151))
        make_face()
        with BuildLine():
            ThreePointArc((61.63, 123.958660151), (63.455, 125.783660151), (65.28, 123.958660151))
            Line((65.28, 123.958660151), (65.28, 130.958660151))
            ThreePointArc((65.28, 130.958660151), (63.455, 132.783660151), (61.63, 130.958660151))
            Line((61.63, 130.958660151), (61.63, 123.958660151))
        make_face()
        with BuildLine():
            ThreePointArc((61.63, 123.958660151), (63.455, 122.133660151), (65.28, 123.958660151))
            ThreePointArc((65.28, 123.958660151), (63.455, 125.783660151), (61.63, 123.958660151))
        make_face()
    extrude(amount=-CUT_EXTRUDE12_DEPTH, mode=Mode.SUBTRACT)

    # Fillet1
    fillet1_edges = [part.edges().sort_by_distance(p)[0] for p in [
        (-215, 245.651830075, 1.5),
        (215, 245.651830075, 1.5),
        (215, -184.348169925, 1.5),
        (-215, -184.348169925, 1.5),
    ]]
    fillet(fillet1_edges, radius=FILLET1_R)

    # Sketch17 → Cut-Extrude13 (cut, through all)
    with BuildSketch(Plane(origin=(0, 0, 0), x_dir=(-1, 0, 0), z_dir=(0, 0, -1))):
        with Locations((191.5, 51.651830075)):
            Circle(SKETCH17_R)
        with Locations((191.5, 9.651830075)):
            Circle(SKETCH17_R)
        with Locations((142.5, 51.651830075)):
            Circle(SKETCH17_R)
        with Locations((142.5, 9.651830075)):
            Circle(SKETCH17_R)
        with Locations((-191.5, 51.651830075)):
            Circle(SKETCH17_R)
        with Locations((-191.5, 9.651830075)):
            Circle(SKETCH17_R)
        with Locations((-142.5, 9.651830075)):
            Circle(SKETCH17_R)
        with Locations((-142.5, 51.651830075)):
            Circle(SKETCH17_R)
    extrude(amount=-CUT_EXTRUDE13_DEPTH, mode=Mode.SUBTRACT)

    # Sketch18 → Cut-Extrude14 (cut, through all)
    with BuildSketch(Plane(origin=(0, 0, 0), x_dir=(-1, 0, 0), z_dir=(0, 0, -1))):
        with Locations((63.2, 55.651830161)):
            Circle(SKETCH18_R)
        with Locations((63.2, 5.651830161)):
            Circle(SKETCH18_R)
        with Locations((-63.2, 55.651830161)):
            Circle(SKETCH18_R)
        with Locations((-63.2, 5.651830161)):
            Circle(SKETCH18_R)
    extrude(amount=-CUT_EXTRUDE14_DEPTH, mode=Mode.SUBTRACT)


solid = part.part
